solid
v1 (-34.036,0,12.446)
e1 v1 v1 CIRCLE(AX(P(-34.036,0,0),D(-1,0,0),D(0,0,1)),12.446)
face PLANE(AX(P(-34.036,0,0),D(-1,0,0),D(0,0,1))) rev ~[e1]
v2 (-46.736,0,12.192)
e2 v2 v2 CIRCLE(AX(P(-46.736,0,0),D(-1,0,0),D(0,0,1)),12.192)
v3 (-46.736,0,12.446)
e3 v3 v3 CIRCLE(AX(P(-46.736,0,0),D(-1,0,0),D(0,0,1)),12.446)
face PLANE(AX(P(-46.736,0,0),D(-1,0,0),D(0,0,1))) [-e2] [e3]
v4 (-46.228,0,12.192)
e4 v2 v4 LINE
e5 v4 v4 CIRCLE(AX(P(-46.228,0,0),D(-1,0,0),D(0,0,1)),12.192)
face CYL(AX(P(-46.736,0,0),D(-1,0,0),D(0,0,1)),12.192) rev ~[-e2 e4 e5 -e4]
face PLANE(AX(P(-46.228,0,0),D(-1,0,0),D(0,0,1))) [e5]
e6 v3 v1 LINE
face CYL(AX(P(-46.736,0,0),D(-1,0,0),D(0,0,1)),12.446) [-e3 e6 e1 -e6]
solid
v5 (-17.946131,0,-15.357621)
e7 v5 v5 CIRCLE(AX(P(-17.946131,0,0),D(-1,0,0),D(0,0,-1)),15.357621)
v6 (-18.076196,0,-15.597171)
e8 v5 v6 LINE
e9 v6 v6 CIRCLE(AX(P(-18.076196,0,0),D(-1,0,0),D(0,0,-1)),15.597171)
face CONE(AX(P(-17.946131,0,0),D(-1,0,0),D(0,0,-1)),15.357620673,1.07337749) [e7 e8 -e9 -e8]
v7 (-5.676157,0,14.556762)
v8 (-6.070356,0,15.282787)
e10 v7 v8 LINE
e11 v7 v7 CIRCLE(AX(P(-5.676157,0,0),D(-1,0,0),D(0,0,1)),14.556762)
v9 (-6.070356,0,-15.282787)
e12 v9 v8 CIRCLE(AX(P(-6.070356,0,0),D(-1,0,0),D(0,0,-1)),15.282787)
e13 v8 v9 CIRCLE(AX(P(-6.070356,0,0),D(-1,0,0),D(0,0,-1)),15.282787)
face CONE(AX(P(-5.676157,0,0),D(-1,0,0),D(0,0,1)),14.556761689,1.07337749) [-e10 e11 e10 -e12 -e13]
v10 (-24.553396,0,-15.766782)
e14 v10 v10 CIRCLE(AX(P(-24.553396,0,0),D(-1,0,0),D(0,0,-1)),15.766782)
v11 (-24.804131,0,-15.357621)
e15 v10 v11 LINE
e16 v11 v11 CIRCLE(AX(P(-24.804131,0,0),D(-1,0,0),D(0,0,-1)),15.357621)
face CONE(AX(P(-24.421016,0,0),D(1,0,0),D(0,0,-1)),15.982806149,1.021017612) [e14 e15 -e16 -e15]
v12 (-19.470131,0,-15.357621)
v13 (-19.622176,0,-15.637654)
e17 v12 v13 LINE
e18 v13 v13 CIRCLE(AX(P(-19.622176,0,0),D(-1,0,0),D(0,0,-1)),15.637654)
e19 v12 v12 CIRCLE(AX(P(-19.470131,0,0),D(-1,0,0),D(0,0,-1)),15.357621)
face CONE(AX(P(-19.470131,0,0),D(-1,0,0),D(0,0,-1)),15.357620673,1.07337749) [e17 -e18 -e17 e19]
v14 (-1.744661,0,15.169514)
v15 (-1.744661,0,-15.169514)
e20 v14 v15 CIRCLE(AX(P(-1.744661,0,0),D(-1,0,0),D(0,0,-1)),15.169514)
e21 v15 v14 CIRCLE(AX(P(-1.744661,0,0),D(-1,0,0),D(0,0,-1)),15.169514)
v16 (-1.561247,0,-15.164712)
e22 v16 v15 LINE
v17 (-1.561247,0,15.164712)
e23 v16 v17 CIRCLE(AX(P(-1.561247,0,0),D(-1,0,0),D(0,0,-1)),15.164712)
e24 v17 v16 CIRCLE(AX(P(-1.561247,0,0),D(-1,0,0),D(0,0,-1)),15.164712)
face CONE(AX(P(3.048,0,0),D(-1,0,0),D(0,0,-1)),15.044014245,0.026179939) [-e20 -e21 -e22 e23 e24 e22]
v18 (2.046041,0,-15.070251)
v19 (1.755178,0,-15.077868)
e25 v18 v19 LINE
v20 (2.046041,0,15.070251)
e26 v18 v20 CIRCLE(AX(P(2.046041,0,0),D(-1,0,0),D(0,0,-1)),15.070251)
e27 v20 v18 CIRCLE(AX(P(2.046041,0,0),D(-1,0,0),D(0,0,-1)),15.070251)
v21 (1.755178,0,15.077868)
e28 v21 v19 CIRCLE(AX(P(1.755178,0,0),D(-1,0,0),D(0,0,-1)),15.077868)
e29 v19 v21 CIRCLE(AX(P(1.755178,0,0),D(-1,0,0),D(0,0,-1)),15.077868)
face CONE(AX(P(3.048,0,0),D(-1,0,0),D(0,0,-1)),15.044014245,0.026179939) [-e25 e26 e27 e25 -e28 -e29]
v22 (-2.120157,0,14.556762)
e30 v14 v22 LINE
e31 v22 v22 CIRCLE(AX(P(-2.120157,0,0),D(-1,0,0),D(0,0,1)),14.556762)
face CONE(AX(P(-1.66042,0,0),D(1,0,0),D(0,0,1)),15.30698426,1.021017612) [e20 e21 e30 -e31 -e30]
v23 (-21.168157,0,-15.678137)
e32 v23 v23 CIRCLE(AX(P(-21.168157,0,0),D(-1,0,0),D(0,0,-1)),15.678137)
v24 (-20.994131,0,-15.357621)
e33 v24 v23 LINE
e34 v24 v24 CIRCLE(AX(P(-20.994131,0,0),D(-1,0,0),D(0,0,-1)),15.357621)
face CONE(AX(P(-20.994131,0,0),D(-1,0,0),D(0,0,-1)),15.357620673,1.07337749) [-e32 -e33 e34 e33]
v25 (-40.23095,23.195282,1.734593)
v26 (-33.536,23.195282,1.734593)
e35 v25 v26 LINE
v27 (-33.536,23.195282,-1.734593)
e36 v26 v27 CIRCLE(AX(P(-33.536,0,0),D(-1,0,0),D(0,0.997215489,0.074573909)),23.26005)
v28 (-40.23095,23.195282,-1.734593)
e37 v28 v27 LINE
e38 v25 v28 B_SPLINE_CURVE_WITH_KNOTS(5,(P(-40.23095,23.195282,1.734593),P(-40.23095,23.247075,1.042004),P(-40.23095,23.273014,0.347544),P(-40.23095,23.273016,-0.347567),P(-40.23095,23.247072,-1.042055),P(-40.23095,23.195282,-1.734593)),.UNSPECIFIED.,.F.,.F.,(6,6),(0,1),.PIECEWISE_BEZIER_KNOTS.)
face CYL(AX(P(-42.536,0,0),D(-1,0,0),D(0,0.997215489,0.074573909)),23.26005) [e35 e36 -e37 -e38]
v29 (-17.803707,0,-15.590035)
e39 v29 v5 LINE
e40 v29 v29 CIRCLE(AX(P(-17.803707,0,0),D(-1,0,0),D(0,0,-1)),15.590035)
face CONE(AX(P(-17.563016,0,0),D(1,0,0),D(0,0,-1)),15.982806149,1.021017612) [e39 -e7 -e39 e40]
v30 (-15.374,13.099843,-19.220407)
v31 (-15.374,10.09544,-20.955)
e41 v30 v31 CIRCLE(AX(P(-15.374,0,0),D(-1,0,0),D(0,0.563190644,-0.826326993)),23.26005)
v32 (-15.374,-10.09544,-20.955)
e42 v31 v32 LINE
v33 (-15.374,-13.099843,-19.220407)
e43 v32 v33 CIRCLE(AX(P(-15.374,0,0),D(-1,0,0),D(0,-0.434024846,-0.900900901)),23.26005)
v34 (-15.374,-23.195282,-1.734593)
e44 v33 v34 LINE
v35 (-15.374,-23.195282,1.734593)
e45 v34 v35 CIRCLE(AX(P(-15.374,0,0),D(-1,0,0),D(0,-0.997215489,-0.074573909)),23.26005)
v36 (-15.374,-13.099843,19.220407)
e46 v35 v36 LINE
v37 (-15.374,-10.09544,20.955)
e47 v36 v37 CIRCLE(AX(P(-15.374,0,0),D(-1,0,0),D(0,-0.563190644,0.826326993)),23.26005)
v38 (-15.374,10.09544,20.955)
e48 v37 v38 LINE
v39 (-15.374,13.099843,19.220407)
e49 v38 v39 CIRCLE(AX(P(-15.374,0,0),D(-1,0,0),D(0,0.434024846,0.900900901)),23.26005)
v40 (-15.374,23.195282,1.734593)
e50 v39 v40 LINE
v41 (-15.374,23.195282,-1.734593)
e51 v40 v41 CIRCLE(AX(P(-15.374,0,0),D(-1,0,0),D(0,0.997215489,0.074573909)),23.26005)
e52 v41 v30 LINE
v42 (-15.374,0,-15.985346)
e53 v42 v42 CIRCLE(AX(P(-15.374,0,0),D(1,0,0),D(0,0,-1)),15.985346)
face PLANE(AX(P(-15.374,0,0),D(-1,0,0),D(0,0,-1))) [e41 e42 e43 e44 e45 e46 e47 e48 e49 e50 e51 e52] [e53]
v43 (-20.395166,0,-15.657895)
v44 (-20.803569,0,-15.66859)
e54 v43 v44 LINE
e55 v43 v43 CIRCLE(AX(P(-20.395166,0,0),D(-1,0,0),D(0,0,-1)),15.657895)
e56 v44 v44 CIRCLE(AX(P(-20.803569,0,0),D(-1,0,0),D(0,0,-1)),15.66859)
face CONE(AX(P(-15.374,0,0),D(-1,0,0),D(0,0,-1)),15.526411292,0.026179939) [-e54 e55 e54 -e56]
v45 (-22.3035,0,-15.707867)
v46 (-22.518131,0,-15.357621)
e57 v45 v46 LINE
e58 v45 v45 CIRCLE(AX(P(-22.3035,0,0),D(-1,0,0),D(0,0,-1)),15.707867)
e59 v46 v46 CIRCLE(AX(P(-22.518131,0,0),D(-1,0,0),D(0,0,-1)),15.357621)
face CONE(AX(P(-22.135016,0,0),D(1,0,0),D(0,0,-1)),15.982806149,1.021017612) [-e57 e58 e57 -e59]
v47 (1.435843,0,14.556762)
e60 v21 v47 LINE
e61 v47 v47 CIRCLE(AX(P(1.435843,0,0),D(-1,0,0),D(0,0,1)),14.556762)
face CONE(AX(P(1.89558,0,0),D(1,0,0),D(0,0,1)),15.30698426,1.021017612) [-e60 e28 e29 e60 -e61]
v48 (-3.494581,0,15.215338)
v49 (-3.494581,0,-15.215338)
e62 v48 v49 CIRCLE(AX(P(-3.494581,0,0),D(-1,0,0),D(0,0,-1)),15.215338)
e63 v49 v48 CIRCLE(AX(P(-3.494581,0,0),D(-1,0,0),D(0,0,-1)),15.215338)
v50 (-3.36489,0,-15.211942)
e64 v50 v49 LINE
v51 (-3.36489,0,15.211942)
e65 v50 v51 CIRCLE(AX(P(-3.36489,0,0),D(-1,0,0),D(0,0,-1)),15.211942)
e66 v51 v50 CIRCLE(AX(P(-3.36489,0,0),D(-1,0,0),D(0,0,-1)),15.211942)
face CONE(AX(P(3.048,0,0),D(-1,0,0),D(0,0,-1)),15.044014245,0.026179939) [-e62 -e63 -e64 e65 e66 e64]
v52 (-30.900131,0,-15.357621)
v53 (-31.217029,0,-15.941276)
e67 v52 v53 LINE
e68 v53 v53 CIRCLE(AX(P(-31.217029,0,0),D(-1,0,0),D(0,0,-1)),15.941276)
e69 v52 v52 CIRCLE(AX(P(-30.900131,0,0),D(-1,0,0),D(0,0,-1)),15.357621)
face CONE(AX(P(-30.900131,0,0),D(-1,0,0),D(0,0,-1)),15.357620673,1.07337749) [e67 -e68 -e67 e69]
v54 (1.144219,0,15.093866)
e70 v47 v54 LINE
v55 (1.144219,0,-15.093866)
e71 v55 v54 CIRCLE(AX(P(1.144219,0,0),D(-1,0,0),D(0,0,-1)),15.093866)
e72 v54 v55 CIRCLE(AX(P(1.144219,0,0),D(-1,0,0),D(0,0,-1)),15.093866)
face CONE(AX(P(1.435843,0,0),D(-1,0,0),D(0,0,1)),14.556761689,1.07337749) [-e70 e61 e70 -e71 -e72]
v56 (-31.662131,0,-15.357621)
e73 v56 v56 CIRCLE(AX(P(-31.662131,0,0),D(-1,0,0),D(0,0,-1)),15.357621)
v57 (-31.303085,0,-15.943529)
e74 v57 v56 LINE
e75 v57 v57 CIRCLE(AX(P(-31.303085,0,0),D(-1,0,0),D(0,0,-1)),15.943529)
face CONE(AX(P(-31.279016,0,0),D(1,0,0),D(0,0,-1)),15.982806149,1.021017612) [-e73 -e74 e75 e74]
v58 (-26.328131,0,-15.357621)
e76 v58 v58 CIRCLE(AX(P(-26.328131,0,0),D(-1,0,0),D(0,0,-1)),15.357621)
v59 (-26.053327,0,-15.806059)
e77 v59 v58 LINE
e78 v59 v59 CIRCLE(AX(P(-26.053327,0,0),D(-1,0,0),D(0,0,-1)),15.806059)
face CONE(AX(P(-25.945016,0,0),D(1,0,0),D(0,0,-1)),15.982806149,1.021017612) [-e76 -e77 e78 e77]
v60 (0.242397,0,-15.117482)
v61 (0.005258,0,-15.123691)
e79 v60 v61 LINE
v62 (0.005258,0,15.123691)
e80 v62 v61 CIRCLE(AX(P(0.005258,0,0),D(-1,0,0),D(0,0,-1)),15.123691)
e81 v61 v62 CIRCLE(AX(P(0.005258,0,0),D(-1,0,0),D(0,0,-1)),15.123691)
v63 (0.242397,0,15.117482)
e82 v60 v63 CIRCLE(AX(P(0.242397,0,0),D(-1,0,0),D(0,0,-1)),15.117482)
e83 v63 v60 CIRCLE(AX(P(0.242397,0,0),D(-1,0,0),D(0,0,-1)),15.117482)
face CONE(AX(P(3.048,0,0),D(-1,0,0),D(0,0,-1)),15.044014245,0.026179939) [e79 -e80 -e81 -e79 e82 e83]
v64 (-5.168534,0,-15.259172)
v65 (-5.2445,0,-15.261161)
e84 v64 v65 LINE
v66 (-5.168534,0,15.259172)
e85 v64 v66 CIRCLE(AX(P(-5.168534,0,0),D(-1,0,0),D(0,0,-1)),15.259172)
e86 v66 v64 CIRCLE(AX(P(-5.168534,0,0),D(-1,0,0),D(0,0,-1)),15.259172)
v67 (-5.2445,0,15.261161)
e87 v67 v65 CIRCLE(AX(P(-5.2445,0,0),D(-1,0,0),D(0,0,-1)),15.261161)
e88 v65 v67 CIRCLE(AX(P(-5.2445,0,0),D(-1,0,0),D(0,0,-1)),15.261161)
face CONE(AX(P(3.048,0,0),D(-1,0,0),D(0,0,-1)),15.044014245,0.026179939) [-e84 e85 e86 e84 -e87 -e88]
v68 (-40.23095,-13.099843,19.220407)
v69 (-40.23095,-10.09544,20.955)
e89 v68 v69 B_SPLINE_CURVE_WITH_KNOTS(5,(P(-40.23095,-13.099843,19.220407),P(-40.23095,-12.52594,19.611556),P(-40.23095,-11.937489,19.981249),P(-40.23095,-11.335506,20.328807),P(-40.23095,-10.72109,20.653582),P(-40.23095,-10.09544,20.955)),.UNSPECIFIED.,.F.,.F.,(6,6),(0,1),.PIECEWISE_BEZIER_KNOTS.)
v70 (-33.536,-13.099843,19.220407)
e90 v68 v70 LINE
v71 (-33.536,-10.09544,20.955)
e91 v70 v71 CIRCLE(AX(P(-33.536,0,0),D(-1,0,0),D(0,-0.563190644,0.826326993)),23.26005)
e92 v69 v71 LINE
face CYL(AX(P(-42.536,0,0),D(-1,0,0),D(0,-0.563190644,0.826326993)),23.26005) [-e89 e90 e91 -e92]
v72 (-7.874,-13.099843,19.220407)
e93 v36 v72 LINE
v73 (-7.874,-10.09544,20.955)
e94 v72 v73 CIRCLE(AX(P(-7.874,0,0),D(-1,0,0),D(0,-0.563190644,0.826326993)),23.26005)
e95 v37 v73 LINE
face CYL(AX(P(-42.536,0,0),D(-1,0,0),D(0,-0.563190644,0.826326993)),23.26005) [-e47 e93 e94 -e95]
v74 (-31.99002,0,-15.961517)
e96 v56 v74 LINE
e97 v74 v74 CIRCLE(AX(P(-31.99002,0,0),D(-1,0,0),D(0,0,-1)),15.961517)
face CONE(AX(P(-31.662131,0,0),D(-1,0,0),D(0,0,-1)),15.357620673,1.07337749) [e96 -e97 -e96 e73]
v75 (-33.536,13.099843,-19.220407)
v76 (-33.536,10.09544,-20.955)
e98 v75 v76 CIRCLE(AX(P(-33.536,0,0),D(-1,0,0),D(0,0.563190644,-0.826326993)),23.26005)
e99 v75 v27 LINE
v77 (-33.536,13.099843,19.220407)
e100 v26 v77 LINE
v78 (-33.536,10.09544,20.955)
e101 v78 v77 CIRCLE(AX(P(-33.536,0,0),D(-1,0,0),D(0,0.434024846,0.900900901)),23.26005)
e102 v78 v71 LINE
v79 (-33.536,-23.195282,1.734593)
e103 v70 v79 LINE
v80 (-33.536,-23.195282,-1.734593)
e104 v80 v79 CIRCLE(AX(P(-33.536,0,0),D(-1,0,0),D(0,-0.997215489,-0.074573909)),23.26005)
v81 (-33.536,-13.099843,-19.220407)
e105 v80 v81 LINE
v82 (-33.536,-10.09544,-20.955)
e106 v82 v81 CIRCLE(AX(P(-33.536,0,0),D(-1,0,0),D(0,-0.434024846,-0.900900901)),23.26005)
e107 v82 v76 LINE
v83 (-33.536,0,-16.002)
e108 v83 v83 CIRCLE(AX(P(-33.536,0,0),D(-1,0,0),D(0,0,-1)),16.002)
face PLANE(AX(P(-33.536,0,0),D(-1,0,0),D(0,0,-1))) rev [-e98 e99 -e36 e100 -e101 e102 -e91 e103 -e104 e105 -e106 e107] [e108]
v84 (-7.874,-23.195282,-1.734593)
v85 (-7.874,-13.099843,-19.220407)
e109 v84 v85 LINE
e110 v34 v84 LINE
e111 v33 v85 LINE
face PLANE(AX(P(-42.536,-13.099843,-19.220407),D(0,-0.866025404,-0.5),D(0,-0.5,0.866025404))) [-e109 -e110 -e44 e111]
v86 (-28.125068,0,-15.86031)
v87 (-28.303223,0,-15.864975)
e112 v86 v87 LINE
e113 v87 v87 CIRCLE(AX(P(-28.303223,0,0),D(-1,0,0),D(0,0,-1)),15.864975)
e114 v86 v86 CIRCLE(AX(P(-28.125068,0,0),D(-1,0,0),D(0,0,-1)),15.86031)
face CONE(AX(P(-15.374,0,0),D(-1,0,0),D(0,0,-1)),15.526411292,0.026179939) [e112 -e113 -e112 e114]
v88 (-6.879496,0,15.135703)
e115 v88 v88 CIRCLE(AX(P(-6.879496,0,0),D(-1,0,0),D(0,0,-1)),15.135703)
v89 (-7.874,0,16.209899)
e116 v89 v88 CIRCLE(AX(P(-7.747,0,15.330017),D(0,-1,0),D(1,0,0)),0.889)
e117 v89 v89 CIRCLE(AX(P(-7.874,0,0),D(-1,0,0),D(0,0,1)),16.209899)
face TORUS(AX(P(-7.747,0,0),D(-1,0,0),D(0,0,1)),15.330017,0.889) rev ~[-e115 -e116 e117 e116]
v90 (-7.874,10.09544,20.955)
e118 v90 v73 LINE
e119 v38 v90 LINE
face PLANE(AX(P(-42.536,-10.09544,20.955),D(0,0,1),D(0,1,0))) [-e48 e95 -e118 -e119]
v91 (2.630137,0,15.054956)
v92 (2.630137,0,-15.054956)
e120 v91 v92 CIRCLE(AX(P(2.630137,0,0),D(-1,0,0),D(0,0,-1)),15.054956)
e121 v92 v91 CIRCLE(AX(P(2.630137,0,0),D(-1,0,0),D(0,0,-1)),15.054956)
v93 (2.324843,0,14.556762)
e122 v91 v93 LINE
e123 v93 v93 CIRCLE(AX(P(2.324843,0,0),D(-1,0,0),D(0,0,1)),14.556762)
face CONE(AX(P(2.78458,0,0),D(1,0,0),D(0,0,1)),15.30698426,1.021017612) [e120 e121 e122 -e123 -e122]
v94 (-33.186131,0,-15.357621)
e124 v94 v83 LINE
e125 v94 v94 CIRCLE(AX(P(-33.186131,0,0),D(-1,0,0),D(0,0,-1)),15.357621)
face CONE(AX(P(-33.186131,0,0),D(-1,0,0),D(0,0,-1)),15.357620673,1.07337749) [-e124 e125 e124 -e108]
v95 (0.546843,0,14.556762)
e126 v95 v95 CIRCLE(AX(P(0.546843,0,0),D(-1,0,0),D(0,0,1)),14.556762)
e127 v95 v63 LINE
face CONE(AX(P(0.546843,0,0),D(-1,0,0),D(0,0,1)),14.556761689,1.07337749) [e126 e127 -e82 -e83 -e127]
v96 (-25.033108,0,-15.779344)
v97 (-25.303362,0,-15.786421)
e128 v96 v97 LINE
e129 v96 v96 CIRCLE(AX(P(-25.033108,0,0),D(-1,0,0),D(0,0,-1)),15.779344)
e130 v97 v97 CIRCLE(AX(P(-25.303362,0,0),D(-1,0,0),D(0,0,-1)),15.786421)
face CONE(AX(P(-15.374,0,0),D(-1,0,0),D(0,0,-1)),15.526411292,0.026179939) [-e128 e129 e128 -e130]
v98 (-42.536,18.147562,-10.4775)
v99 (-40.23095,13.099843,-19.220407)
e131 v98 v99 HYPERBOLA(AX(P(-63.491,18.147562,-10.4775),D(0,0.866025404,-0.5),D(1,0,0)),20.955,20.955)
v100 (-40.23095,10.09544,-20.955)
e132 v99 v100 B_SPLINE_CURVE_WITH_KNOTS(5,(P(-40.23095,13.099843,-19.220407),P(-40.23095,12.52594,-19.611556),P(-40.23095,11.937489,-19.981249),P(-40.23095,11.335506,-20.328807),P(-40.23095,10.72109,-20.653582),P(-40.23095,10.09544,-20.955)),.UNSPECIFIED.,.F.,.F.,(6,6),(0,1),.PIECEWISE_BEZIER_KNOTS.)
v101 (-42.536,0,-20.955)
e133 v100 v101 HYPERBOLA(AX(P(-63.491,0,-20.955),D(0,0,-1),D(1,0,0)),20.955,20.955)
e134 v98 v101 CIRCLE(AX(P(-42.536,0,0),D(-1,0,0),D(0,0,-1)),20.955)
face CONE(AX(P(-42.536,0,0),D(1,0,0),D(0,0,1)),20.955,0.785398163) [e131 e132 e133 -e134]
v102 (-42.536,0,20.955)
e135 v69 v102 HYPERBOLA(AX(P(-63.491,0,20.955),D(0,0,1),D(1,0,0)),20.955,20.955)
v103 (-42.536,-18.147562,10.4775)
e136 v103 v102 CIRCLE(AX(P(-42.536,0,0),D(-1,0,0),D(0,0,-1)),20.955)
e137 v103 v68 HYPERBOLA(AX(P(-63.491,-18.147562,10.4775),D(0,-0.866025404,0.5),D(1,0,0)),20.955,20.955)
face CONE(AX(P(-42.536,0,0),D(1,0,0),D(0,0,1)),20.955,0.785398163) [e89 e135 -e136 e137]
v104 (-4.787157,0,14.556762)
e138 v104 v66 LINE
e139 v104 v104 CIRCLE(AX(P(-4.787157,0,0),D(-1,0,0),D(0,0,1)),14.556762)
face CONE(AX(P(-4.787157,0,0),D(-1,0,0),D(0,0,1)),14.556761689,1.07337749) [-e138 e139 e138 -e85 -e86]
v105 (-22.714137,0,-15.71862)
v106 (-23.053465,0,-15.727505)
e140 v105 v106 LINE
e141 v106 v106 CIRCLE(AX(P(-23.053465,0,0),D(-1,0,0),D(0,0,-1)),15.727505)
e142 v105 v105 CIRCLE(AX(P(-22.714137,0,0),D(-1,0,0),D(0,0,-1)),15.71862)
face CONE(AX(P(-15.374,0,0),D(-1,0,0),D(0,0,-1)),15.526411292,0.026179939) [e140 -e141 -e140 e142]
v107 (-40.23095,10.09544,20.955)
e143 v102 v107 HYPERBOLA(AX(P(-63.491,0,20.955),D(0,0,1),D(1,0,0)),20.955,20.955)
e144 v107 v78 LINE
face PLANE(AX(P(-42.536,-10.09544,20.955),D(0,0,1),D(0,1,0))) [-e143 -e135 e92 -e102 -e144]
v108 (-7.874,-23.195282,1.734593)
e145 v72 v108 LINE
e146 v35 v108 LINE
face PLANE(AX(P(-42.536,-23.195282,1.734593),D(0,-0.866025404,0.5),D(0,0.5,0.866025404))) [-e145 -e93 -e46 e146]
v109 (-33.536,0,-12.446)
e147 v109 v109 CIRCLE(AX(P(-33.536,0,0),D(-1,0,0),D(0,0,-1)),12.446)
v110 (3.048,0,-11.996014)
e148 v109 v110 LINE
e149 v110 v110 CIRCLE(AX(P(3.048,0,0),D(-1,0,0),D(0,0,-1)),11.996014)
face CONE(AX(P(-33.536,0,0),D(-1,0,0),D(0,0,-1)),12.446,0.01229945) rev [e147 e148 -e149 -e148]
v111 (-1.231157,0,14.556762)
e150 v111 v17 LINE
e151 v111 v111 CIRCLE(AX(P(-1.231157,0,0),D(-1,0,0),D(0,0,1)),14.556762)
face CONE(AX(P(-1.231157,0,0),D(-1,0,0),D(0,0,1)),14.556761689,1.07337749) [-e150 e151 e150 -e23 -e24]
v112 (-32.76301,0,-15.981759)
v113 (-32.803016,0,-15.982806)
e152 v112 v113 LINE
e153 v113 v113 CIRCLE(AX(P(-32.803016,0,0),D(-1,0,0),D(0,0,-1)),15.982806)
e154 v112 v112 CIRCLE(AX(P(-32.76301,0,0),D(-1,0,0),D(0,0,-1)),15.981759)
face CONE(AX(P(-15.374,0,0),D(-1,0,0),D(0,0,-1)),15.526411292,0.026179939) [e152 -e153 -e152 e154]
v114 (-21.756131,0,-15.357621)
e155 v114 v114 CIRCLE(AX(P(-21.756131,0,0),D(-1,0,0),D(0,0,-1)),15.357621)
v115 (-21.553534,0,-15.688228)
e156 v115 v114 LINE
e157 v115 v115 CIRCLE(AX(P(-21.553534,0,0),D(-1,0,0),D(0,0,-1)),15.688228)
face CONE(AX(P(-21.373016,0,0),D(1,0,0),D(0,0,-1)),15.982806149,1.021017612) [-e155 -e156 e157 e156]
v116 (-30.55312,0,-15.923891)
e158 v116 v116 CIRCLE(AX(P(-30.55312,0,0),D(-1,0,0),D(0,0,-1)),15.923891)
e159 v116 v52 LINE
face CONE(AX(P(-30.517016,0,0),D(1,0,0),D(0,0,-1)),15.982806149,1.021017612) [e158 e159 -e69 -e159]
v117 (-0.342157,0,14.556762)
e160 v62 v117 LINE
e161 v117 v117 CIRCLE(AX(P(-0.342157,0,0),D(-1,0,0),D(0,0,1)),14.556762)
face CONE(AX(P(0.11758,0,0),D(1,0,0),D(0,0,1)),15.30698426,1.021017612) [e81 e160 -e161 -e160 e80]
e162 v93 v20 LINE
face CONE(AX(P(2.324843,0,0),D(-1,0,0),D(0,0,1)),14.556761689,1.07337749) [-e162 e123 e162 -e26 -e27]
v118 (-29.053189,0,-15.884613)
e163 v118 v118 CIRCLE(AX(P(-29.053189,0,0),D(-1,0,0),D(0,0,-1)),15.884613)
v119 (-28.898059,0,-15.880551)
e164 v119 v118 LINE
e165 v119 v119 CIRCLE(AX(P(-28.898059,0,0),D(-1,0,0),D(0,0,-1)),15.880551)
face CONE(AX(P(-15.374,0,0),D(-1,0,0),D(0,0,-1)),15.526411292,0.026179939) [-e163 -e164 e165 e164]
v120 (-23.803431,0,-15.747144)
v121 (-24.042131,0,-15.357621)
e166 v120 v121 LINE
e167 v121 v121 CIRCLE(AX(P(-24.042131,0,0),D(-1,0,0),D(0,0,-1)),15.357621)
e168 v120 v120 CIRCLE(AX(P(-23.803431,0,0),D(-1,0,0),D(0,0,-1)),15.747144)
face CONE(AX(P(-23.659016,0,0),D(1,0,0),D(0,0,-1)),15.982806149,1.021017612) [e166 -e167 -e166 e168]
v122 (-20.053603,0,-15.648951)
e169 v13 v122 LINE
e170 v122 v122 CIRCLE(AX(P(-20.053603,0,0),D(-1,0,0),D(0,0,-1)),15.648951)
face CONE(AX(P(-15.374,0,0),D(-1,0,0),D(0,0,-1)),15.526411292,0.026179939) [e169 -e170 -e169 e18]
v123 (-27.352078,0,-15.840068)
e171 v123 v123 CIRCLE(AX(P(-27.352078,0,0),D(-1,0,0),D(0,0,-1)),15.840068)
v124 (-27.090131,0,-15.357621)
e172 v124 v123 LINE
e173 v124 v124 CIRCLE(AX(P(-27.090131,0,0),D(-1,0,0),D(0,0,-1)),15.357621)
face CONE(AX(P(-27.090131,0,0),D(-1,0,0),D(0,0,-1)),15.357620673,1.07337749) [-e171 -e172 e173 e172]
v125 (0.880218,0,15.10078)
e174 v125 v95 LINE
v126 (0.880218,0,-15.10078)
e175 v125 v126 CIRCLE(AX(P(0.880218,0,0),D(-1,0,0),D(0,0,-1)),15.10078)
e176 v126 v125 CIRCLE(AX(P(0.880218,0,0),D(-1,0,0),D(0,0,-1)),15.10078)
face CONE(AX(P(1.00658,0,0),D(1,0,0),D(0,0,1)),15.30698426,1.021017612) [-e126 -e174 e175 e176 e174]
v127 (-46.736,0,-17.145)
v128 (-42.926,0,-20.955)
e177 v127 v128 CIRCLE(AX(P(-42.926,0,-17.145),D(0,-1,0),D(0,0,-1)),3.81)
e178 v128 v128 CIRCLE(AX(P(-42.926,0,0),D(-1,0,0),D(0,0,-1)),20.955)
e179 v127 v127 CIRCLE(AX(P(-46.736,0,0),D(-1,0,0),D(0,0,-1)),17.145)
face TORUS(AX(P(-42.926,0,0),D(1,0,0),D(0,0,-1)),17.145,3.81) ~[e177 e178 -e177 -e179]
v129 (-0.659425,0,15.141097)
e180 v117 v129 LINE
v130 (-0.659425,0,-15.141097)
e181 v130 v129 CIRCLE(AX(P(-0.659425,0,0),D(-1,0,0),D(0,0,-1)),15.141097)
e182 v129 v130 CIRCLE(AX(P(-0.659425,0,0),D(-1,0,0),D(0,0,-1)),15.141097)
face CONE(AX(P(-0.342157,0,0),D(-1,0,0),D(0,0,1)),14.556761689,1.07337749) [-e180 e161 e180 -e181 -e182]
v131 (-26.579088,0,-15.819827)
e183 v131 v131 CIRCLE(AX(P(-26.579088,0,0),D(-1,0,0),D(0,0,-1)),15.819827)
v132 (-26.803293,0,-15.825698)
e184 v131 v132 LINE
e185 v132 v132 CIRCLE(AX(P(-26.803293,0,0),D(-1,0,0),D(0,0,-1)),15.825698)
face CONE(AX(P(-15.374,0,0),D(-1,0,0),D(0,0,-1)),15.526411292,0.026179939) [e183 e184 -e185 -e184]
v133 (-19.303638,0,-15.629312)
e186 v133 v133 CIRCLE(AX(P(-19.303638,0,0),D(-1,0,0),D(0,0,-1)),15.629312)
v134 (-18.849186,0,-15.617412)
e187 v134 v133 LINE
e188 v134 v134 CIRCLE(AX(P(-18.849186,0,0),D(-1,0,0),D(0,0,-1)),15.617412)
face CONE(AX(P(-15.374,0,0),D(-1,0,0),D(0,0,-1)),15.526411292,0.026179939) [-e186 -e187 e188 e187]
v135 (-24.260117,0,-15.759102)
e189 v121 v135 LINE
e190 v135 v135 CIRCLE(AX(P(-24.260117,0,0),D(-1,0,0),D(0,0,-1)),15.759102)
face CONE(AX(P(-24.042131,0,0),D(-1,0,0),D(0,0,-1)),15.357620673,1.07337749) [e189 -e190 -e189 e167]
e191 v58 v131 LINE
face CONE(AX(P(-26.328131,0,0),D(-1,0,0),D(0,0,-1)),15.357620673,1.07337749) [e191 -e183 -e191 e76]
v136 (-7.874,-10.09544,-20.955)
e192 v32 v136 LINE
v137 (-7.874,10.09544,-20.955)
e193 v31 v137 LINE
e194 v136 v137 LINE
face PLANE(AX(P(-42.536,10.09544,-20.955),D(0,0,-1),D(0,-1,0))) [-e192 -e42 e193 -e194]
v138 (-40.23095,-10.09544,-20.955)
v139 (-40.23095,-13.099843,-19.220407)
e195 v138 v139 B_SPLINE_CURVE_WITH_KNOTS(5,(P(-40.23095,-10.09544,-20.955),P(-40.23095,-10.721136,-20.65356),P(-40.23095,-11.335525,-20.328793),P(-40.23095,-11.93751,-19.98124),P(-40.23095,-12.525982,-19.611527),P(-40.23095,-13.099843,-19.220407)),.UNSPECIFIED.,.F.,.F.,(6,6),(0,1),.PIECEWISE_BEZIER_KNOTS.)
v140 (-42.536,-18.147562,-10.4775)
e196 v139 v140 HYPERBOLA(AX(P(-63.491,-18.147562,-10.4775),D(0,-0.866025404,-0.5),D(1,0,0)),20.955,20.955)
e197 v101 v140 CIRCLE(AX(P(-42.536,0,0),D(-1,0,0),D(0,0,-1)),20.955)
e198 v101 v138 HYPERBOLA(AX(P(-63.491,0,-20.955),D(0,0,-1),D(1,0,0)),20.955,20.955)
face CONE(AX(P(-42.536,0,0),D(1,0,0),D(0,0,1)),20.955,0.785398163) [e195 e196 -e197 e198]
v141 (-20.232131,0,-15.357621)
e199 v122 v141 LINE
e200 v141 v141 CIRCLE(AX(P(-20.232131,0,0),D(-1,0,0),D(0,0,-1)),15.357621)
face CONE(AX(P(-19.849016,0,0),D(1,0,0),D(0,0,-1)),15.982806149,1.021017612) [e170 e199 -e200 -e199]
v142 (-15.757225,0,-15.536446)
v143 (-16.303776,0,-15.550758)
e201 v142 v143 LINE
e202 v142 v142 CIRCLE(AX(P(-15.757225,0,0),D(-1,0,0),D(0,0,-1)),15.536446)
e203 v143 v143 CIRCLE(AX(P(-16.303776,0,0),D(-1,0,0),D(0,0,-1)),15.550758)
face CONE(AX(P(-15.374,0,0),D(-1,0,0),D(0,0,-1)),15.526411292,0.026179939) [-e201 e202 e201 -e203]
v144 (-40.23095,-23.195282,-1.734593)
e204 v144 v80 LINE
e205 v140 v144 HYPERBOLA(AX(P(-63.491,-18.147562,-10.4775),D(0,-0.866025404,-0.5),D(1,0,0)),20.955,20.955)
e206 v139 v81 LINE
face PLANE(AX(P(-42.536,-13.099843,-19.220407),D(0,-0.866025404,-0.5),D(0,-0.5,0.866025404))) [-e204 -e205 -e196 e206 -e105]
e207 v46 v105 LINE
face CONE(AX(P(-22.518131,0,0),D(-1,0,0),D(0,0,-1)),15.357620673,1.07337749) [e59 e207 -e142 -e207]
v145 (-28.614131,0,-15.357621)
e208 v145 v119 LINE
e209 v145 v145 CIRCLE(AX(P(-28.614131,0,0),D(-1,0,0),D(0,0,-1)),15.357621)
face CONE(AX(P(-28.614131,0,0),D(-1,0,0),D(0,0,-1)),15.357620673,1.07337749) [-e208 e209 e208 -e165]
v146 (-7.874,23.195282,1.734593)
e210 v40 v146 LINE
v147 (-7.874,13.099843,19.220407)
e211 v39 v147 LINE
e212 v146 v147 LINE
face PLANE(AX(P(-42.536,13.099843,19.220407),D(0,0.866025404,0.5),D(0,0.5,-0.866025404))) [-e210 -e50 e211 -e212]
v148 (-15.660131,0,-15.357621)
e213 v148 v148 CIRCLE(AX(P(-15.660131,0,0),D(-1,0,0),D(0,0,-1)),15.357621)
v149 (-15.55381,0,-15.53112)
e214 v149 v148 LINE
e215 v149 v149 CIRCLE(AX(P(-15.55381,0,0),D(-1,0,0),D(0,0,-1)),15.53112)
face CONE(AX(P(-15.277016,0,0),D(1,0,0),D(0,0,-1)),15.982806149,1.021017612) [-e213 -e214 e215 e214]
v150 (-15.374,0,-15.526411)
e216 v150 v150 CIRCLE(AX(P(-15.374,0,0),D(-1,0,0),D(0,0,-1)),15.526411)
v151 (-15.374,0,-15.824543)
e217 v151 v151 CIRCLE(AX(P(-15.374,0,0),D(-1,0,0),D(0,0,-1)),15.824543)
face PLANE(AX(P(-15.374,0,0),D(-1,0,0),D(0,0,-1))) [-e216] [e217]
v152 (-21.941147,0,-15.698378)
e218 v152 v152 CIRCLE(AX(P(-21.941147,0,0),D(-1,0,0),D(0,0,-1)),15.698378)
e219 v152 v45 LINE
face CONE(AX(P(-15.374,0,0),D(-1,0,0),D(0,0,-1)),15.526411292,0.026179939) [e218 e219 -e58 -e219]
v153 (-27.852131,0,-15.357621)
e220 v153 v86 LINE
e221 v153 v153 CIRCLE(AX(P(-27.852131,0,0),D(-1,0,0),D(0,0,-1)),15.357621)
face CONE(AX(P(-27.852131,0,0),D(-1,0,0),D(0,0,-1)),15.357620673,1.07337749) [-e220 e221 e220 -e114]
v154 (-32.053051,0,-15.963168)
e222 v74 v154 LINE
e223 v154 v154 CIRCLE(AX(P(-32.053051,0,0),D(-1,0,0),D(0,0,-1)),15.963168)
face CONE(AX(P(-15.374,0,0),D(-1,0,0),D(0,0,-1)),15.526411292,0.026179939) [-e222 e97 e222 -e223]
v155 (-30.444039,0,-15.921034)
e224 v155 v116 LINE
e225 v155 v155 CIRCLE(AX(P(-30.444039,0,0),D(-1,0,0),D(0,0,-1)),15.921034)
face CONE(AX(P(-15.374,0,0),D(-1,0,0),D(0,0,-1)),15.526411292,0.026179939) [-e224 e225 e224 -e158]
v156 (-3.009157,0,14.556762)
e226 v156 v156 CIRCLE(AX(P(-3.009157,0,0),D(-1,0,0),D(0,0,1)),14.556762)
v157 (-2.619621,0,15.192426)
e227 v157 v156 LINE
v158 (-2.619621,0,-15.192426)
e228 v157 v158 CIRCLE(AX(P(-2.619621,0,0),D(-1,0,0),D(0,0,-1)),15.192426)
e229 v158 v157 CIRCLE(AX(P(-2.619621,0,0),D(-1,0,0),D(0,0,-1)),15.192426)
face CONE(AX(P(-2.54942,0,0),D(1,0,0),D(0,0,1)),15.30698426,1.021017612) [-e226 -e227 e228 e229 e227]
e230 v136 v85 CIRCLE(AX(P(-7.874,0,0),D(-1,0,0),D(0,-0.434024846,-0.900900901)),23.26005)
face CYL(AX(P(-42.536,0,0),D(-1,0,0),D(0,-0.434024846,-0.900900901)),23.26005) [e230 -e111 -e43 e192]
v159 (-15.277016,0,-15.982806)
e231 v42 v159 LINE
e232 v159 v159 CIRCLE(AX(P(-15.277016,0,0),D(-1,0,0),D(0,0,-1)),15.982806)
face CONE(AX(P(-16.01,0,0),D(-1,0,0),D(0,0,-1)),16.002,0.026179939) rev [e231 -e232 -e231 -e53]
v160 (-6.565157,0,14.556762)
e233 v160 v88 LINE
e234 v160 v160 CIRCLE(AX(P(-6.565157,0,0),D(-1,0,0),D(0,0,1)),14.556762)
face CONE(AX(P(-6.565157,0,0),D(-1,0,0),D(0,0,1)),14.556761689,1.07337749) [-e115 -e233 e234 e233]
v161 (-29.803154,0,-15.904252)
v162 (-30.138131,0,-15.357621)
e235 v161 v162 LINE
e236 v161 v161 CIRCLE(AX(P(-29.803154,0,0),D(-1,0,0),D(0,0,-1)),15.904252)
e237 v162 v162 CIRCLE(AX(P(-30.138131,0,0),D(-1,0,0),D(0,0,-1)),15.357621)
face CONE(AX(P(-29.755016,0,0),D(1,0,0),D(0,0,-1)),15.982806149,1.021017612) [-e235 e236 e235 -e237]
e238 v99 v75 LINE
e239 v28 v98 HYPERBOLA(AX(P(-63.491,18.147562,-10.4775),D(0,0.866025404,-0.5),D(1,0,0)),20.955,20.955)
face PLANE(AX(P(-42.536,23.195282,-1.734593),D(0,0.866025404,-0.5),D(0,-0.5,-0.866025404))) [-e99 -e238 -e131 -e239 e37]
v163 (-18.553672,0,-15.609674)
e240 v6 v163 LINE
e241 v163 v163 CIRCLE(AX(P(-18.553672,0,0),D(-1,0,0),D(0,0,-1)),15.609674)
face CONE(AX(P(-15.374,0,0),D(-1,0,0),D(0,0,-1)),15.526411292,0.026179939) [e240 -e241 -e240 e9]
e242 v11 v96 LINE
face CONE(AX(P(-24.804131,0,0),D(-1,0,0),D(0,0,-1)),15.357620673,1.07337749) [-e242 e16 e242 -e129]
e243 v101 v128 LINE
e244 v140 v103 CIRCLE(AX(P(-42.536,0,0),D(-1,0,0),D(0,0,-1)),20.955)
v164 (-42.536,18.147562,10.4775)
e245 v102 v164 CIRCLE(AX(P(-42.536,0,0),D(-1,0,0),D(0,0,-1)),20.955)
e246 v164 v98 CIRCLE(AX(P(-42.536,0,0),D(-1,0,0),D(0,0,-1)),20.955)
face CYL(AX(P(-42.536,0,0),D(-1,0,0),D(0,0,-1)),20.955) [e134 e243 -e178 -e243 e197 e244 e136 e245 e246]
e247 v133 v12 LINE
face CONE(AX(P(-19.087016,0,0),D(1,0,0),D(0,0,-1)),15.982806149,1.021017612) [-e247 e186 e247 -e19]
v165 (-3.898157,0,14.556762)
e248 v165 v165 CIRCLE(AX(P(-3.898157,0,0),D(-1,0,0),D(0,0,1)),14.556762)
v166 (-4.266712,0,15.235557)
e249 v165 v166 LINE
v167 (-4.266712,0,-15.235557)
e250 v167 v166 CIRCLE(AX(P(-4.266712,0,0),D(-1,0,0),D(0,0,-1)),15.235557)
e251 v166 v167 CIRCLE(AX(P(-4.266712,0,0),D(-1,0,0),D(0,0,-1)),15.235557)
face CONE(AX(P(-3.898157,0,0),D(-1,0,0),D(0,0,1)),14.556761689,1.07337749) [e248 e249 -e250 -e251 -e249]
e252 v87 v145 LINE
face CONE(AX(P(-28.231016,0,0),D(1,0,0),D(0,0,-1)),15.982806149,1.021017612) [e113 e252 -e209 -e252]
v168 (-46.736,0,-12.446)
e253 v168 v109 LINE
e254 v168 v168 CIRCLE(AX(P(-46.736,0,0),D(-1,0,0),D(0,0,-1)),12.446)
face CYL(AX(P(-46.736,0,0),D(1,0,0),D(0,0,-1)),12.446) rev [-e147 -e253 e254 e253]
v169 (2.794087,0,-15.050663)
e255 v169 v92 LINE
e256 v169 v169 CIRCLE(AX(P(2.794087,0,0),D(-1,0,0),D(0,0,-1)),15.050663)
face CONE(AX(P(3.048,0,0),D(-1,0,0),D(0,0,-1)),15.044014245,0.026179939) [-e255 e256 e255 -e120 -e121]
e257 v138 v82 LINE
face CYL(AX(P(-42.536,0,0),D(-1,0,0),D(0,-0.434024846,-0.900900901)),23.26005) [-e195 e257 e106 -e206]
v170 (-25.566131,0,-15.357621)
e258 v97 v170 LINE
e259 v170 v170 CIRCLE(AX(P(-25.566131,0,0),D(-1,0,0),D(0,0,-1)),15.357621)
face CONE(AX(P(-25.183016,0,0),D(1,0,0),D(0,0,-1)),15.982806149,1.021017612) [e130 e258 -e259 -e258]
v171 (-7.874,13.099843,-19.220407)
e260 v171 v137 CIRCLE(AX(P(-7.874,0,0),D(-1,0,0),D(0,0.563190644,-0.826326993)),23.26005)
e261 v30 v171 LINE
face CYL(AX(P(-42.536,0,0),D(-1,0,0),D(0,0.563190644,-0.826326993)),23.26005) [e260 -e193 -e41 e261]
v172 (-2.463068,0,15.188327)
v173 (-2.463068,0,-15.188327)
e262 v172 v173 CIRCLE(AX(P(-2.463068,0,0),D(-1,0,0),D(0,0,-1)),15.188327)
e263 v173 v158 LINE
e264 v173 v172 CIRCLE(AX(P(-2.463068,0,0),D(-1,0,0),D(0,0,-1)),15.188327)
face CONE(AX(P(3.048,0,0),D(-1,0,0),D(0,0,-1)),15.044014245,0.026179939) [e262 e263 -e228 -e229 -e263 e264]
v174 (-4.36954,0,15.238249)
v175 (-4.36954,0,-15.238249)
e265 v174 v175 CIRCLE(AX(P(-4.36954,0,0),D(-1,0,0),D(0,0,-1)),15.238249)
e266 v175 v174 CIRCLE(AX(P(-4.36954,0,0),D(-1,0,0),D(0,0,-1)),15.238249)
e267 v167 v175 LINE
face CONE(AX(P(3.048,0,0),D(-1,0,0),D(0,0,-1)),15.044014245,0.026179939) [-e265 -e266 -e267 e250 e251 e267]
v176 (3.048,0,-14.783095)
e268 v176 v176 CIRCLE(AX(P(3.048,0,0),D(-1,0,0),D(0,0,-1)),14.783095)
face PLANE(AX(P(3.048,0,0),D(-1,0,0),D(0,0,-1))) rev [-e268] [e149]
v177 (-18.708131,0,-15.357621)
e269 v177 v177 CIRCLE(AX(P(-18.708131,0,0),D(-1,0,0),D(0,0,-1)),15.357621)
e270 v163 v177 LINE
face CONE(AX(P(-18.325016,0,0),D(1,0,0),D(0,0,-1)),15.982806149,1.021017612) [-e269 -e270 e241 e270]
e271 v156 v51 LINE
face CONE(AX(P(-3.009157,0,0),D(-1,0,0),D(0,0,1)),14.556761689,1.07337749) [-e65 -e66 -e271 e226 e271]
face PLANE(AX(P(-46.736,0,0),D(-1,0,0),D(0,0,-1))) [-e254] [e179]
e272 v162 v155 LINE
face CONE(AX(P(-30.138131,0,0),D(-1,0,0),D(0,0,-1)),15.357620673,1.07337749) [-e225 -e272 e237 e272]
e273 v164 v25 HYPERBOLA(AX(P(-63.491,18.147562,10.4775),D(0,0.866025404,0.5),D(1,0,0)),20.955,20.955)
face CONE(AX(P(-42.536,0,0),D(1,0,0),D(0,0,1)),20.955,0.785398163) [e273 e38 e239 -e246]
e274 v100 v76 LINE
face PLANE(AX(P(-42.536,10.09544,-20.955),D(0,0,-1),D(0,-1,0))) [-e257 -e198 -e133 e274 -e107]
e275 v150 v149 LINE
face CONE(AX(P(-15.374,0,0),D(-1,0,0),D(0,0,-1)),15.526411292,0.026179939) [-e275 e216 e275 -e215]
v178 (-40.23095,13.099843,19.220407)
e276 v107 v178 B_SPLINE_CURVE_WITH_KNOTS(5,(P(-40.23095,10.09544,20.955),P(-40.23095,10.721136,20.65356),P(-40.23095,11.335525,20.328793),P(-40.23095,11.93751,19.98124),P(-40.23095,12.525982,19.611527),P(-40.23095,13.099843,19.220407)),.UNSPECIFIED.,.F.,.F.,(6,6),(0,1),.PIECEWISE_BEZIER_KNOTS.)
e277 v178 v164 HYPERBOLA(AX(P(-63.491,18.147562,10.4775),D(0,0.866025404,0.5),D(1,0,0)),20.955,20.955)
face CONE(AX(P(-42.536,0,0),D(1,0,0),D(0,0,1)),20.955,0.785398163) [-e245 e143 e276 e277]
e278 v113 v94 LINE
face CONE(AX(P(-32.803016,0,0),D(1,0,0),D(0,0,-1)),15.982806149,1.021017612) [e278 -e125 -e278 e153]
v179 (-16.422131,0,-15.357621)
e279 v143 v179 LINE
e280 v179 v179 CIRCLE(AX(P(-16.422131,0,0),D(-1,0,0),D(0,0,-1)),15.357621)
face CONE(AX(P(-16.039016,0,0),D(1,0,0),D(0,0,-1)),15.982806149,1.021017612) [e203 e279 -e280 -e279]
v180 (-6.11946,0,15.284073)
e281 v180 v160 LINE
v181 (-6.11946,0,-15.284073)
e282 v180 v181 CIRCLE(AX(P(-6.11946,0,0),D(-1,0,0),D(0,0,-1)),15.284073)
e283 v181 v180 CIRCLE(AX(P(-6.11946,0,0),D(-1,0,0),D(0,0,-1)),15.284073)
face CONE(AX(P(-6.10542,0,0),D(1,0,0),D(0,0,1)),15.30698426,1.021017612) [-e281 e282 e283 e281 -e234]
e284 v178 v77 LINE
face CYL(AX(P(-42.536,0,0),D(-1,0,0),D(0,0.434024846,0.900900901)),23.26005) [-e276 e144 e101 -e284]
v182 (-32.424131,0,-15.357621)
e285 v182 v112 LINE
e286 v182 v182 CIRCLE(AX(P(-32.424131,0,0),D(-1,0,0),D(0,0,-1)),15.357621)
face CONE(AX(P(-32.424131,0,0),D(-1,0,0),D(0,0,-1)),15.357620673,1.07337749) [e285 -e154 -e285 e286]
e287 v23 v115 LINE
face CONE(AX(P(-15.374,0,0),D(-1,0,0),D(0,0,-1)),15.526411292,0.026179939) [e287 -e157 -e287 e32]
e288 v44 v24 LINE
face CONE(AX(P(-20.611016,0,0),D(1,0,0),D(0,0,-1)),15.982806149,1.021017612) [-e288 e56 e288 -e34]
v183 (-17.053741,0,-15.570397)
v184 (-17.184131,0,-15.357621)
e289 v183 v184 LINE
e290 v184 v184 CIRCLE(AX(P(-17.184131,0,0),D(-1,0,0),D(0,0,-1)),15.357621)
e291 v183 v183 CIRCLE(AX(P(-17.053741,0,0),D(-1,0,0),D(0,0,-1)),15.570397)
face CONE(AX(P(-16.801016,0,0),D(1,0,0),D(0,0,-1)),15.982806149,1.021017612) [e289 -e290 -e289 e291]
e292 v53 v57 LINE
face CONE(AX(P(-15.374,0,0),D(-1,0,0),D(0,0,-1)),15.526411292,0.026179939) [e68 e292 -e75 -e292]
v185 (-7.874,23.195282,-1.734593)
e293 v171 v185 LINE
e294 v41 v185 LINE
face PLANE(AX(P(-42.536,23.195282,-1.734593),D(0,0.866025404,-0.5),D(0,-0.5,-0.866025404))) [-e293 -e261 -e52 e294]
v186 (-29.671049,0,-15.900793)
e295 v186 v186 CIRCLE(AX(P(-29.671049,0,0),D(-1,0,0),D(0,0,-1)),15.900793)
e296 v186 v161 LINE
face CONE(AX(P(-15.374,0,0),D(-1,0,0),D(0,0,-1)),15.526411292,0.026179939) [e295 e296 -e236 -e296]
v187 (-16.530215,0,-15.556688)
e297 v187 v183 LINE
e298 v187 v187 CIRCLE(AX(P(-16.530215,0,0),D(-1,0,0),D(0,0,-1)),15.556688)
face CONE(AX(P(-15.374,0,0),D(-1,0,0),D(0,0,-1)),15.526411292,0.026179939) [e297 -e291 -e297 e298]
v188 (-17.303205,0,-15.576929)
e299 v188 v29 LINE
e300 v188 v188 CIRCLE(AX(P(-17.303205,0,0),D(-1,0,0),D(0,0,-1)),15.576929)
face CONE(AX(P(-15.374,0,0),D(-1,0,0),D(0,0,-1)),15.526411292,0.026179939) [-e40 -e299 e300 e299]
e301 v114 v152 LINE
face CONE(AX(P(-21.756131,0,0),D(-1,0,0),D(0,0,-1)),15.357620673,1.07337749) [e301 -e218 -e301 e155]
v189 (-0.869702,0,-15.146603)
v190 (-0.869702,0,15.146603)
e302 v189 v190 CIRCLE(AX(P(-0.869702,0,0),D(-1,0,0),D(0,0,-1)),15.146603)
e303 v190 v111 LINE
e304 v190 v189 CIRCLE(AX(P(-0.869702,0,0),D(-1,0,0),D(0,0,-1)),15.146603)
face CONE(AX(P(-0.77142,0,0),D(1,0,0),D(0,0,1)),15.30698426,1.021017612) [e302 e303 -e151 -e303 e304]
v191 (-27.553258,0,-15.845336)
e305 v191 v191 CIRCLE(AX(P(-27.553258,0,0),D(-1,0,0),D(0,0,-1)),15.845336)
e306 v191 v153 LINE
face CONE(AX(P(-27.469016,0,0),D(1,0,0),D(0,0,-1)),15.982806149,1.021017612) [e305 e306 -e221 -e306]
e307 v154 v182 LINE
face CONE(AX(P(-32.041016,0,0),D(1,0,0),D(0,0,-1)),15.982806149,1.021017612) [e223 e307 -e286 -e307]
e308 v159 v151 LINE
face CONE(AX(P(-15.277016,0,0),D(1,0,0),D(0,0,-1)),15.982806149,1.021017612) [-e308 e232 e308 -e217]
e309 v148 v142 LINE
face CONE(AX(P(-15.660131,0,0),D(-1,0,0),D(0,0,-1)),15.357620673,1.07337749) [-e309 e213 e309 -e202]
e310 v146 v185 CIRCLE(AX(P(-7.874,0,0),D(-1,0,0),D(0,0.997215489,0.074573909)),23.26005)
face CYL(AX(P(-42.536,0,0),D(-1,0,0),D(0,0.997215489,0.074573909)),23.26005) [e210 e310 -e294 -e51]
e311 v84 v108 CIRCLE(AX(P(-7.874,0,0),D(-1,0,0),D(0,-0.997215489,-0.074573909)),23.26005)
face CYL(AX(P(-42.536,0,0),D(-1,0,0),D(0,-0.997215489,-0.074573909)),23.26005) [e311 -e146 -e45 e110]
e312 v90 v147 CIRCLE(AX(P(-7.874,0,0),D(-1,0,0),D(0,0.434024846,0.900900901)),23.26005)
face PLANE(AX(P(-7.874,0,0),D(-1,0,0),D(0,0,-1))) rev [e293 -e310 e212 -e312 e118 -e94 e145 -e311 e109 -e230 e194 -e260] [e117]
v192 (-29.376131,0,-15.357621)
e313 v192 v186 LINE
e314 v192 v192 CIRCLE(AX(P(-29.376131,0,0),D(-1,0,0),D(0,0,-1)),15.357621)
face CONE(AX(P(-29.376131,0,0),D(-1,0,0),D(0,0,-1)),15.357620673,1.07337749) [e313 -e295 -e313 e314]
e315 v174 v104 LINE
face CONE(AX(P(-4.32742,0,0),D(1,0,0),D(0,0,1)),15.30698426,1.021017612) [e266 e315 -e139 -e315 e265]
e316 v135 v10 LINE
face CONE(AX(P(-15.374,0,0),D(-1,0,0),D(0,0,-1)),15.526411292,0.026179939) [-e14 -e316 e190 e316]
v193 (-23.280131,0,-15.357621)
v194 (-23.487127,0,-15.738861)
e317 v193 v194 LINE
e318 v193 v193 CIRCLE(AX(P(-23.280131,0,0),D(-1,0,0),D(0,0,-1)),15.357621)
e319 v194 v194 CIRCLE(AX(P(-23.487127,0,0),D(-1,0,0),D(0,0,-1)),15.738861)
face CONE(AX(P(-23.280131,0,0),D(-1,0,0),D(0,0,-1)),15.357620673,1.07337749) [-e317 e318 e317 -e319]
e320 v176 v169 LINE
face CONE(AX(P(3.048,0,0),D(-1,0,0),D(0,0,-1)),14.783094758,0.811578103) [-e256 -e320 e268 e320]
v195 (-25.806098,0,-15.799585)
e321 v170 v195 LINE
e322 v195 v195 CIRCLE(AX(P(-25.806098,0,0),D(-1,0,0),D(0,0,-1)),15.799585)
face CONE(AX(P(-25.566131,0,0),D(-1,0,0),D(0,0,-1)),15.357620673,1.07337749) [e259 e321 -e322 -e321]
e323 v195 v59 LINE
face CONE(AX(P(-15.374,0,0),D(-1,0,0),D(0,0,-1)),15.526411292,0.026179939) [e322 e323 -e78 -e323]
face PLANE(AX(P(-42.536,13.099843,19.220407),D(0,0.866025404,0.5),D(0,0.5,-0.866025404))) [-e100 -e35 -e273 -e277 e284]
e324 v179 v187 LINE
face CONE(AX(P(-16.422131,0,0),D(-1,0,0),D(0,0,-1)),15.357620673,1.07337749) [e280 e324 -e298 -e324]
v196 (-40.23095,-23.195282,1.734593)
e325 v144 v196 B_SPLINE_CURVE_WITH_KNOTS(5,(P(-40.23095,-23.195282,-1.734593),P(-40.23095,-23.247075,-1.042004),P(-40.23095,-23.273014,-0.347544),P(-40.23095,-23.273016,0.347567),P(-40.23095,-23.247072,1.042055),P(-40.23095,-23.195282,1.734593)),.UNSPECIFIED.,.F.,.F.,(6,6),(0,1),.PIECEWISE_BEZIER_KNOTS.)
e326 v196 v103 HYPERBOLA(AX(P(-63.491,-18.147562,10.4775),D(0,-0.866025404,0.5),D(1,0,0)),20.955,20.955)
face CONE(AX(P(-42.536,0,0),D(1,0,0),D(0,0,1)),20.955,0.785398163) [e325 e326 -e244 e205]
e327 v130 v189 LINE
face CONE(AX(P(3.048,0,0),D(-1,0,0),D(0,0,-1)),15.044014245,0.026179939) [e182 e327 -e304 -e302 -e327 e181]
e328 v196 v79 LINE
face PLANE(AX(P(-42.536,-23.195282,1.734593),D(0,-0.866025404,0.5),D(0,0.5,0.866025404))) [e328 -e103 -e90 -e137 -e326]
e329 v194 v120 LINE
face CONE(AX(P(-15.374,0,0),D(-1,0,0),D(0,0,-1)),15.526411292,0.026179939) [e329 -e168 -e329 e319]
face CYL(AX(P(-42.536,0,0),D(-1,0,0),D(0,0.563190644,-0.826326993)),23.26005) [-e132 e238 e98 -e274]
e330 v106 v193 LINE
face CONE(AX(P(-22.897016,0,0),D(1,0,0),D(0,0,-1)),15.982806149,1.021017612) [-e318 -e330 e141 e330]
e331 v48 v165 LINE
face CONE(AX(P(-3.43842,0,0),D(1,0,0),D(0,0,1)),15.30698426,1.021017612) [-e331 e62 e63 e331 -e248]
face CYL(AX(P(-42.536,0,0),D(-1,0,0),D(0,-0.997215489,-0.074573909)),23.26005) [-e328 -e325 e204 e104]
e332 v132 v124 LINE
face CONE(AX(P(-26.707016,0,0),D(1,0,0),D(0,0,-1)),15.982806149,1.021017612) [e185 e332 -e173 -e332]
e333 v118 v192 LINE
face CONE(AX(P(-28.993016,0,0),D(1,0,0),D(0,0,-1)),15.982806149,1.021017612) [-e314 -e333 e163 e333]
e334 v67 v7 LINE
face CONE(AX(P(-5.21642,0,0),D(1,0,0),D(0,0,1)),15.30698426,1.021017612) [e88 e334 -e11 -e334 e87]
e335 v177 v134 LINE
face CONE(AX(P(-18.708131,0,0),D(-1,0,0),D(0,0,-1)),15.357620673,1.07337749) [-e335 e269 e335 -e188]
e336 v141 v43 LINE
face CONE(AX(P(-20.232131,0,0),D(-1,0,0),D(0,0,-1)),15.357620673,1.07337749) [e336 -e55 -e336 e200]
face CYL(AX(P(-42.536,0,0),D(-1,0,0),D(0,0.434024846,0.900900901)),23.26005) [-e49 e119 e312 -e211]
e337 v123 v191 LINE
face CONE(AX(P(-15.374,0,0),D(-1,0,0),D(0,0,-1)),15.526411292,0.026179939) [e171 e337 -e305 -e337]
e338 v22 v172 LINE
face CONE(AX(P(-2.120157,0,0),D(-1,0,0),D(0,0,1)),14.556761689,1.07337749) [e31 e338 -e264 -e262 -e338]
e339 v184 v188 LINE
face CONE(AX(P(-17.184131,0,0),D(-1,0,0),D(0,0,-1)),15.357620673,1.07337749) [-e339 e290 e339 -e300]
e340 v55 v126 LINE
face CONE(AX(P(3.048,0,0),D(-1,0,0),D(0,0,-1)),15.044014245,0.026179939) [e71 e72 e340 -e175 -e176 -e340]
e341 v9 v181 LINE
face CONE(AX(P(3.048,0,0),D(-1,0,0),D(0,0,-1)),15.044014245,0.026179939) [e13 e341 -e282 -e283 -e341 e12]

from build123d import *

# Parameters (mm, degrees)
SKETCH12_OUTSIDE_W = 111.534
SKETCH12_OUTSIDE_H = 111.534
CUT_EXTRUDE2_DEPTH = 46.584
FILLET4_R          = 3.81
SKETCH19_OUTSIDE_W = 67.904
SKETCH19_OUTSIDE_H = 72.514
SKETCH19_OUTSIDE_R = 20.955
CUT_EXTRUDE3_DEPTH = 3.99796
CUT_EXTRUDE3_DRAFT = -45
CHAMFER1_SIZE      = 0.260919487
CHAMFER1_SIZE2     = 0.254
SKETCH21_R         = 12.446
PLUG_DEPTH         = 12.7
SKETCH22_R         = 12.192
CUT_EXTRUDE4_DEPTH = 0.508
LPATTERN1_COUNT    = 24
LPATTERN1_PITCH    = 0.762
LPATTERN2_COUNT    = 12
LPATTERN2_PITCH    = 0.889
SKETCH32_R         = 0.889


with BuildPart() as part:
    # Sketch10 → Revolve2 (revolve)
    with BuildSketch(Plane.XY, mode=Mode.PRIVATE) as revolve2_sk:
        Polygon((-46.736, 12.446), (-33.536, 12.446), (3.048, 11.996014245), (3.048, 15.044014245), (-7.874, 15.330016881), (-7.874, 41.91), (-15.374, 41.91), (-15.374, 15.526411292), (-33.536, 16.002), (-33.536, 41.91), (-42.536, 41.91), (-42.536, 20.955), (-46.736, 20.955), align=None)
    revolve(revolve2_sk.sketch.rotate(Axis((0, 0, 0), (-1, 0, 0)), 90), axis=Axis((0, 0, 0), (-1, 0, 0)))  # turned: the seam where the file's is

    # Sketch12 outside → Cut-Extrude2 (cut, through all)
    with BuildSketch(Plane.ZY.offset(42.536)):
        Rectangle(SKETCH12_OUTSIDE_W, SKETCH12_OUTSIDE_H)
        with BuildLine():
            Line((-1.734592832, 23.195282143), (-19.220407168, 13.099842529))
            ThreePointArc((-19.220407168, 13.099842529), (-20.143794193, 11.630025), (-20.955, 10.095439614))
            Line((-20.955, 10.095439614), (-20.955, -10.095439614))
            ThreePointArc((-20.955, -10.095439614), (-20.143794193, -11.630025), (-19.220407168, -13.099842529))
            Line((-19.220407168, -13.099842529), (-1.734592832, -23.195282143))
            ThreePointArc((-1.734592832, -23.195282143), (0, -23.26005), (1.734592832, -23.195282143))
            Line((1.734592832, -23.195282143), (19.220407168, -13.099842529))
            ThreePointArc((19.220407168, -13.099842529), (20.143794193, -11.630025), (20.955, -10.095439614))
            Line((20.955, -10.095439614), (20.955, 10.095439614))
            ThreePointArc((20.955, 10.095439614), (20.143794193, 11.630025), (19.220407168, 13.099842529))
            Line((19.220407168, 13.099842529), (1.734592832, 23.195282143))
            ThreePointArc((1.734592832, 23.195282143), (0, 23.26005), (-1.734592832, 23.195282143))
        make_face(mode=Mode.SUBTRACT)
    extrude(amount=-CUT_EXTRUDE2_DEPTH, mode=Mode.SUBTRACT)

    # Fillet4
    fillet4_edges = [part.edges().sort_by_distance(p)[0] for p in [
        (-46.736, 0, 20.955),
    ]]
    fillet(fillet4_edges, radius=FILLET4_R)


with BuildPart() as cut_extrude3_tool:
    # Sketch19 outside → Cut-Extrude3 (with draft: the straight prism first)
    with BuildSketch(Plane.ZY.offset(42.536)):
        Rectangle(SKETCH19_OUTSIDE_W, SKETCH19_OUTSIDE_H)
        Circle(SKETCH19_OUTSIDE_R, mode=Mode.SUBTRACT)
    extrude(amount=-CUT_EXTRUDE3_DEPTH)
    # Cut-Extrude3: the draft: its side faces are tilted about the plane it starts from
    cut_extrude3_sides = [cut_extrude3_tool.faces().sort_by_distance(p)[0] for p in [
        (-40.53702, -36.257, 0),
        (-40.53702, 0, 33.952),
        (-40.53702, 36.257, 0),
        (-40.53702, 0, -33.952),
        (-40.53702, 0, -20.955),
    ]]
    draft(cut_extrude3_sides, Plane.ZY.offset(42.536), CUT_EXTRUDE3_DRAFT)


with BuildPart() as part_1:
    add(part.part)

    # Cut-Extrude3: cut by cut_extrude3_tool
    add(cut_extrude3_tool.part, mode=Mode.SUBTRACT)

    # Chamfer1
    chamfer1_edges = [part_1.edges().sort_by_distance(p)[0] for p in [
        (3.048, 0, 15.044014245),
    ]]
    chamfer1_side = [part_1.faces().sort_by_distance(p)[0] for p in [
        (3.048, 0, 12.421523225),
    ]]
    chamfer(chamfer1_edges, length=CHAMFER1_SIZE, length2=CHAMFER1_SIZE2, reference=chamfer1_side[0])

    # Sketch29 → Cut-Revolve1 (revolve, cut)
    with BuildSketch(Plane.XY, mode=Mode.PRIVATE) as cut_revolve1_sk:
        Polygon((-33.536, 16.002), (-32.803016419, 15.982806149), (-33.186130572, 15.357620673), align=None)
    cut_revolve1 = revolve(cut_revolve1_sk.sketch.rotate(Axis((0, 0, 0), (-1, 0, 0)), 90), axis=Axis((0, 0, 0), (-1, 0, 0)), mode=Mode.SUBTRACT)  # turned: the seam where the file's is

    # LPattern1: Cut-Revolve1 ×24
    with Locations(*[(i * LPATTERN1_PITCH, 0, 0) for i in range(1, LPATTERN1_COUNT)]):
        add(cut_revolve1, mode=Mode.SUBTRACT)

    # Sketch30 → Cut-Revolve2 (revolve, cut)
    with BuildSketch(Plane.XY, mode=Mode.PRIVATE) as cut_revolve2_sk:
        Polygon((-7.874, 15.330016881), (-6.994419703, 15.30698426), (-7.454156686, 14.556761689), align=None)
    cut_revolve2 = revolve(cut_revolve2_sk.sketch.rotate(Axis((0, 0, 0), (-1, 0, 0)), 270), axis=Axis((0, 0, 0), (-1, 0, 0)), mode=Mode.SUBTRACT)  # turned: the seam where the file's is

    # LPattern2: Cut-Revolve2 ×12
    with Locations(*[(i * LPATTERN2_PITCH, 0, 0) for i in range(1, LPATTERN2_COUNT)]):
        add(cut_revolve2, mode=Mode.SUBTRACT)

    # Sketch32 → Cut-Revolve3 (revolve, cut)
    with BuildSketch(Plane.XY, mode=Mode.PRIVATE) as cut_revolve3_sk:
        with Locations((-7.747, 15.330016881)):
            Circle(SKETCH32_R)
    revolve(cut_revolve3_sk.sketch.rotate(Axis((0, 0, 0), (-1, 0, 0)), 270), axis=Axis((0, 0, 0), (-1, 0, 0)), mode=Mode.SUBTRACT)  # turned: the seam where the file's is


with BuildPart() as body_2:
    # Sketch21 → plug (new body)
    with BuildSketch(Plane.ZY.offset(46.736)):
        Circle(SKETCH21_R)
    extrude(amount=-PLUG_DEPTH)

    # Sketch22 → Cut-Extrude4 (cut)
    with BuildSketch(Plane.ZY.offset(46.736)):
        Circle(SKETCH22_R)
    extrude(amount=-CUT_EXTRUDE4_DEPTH, mode=Mode.SUBTRACT)


solid = Compound([part_1.part, body_2.part])
